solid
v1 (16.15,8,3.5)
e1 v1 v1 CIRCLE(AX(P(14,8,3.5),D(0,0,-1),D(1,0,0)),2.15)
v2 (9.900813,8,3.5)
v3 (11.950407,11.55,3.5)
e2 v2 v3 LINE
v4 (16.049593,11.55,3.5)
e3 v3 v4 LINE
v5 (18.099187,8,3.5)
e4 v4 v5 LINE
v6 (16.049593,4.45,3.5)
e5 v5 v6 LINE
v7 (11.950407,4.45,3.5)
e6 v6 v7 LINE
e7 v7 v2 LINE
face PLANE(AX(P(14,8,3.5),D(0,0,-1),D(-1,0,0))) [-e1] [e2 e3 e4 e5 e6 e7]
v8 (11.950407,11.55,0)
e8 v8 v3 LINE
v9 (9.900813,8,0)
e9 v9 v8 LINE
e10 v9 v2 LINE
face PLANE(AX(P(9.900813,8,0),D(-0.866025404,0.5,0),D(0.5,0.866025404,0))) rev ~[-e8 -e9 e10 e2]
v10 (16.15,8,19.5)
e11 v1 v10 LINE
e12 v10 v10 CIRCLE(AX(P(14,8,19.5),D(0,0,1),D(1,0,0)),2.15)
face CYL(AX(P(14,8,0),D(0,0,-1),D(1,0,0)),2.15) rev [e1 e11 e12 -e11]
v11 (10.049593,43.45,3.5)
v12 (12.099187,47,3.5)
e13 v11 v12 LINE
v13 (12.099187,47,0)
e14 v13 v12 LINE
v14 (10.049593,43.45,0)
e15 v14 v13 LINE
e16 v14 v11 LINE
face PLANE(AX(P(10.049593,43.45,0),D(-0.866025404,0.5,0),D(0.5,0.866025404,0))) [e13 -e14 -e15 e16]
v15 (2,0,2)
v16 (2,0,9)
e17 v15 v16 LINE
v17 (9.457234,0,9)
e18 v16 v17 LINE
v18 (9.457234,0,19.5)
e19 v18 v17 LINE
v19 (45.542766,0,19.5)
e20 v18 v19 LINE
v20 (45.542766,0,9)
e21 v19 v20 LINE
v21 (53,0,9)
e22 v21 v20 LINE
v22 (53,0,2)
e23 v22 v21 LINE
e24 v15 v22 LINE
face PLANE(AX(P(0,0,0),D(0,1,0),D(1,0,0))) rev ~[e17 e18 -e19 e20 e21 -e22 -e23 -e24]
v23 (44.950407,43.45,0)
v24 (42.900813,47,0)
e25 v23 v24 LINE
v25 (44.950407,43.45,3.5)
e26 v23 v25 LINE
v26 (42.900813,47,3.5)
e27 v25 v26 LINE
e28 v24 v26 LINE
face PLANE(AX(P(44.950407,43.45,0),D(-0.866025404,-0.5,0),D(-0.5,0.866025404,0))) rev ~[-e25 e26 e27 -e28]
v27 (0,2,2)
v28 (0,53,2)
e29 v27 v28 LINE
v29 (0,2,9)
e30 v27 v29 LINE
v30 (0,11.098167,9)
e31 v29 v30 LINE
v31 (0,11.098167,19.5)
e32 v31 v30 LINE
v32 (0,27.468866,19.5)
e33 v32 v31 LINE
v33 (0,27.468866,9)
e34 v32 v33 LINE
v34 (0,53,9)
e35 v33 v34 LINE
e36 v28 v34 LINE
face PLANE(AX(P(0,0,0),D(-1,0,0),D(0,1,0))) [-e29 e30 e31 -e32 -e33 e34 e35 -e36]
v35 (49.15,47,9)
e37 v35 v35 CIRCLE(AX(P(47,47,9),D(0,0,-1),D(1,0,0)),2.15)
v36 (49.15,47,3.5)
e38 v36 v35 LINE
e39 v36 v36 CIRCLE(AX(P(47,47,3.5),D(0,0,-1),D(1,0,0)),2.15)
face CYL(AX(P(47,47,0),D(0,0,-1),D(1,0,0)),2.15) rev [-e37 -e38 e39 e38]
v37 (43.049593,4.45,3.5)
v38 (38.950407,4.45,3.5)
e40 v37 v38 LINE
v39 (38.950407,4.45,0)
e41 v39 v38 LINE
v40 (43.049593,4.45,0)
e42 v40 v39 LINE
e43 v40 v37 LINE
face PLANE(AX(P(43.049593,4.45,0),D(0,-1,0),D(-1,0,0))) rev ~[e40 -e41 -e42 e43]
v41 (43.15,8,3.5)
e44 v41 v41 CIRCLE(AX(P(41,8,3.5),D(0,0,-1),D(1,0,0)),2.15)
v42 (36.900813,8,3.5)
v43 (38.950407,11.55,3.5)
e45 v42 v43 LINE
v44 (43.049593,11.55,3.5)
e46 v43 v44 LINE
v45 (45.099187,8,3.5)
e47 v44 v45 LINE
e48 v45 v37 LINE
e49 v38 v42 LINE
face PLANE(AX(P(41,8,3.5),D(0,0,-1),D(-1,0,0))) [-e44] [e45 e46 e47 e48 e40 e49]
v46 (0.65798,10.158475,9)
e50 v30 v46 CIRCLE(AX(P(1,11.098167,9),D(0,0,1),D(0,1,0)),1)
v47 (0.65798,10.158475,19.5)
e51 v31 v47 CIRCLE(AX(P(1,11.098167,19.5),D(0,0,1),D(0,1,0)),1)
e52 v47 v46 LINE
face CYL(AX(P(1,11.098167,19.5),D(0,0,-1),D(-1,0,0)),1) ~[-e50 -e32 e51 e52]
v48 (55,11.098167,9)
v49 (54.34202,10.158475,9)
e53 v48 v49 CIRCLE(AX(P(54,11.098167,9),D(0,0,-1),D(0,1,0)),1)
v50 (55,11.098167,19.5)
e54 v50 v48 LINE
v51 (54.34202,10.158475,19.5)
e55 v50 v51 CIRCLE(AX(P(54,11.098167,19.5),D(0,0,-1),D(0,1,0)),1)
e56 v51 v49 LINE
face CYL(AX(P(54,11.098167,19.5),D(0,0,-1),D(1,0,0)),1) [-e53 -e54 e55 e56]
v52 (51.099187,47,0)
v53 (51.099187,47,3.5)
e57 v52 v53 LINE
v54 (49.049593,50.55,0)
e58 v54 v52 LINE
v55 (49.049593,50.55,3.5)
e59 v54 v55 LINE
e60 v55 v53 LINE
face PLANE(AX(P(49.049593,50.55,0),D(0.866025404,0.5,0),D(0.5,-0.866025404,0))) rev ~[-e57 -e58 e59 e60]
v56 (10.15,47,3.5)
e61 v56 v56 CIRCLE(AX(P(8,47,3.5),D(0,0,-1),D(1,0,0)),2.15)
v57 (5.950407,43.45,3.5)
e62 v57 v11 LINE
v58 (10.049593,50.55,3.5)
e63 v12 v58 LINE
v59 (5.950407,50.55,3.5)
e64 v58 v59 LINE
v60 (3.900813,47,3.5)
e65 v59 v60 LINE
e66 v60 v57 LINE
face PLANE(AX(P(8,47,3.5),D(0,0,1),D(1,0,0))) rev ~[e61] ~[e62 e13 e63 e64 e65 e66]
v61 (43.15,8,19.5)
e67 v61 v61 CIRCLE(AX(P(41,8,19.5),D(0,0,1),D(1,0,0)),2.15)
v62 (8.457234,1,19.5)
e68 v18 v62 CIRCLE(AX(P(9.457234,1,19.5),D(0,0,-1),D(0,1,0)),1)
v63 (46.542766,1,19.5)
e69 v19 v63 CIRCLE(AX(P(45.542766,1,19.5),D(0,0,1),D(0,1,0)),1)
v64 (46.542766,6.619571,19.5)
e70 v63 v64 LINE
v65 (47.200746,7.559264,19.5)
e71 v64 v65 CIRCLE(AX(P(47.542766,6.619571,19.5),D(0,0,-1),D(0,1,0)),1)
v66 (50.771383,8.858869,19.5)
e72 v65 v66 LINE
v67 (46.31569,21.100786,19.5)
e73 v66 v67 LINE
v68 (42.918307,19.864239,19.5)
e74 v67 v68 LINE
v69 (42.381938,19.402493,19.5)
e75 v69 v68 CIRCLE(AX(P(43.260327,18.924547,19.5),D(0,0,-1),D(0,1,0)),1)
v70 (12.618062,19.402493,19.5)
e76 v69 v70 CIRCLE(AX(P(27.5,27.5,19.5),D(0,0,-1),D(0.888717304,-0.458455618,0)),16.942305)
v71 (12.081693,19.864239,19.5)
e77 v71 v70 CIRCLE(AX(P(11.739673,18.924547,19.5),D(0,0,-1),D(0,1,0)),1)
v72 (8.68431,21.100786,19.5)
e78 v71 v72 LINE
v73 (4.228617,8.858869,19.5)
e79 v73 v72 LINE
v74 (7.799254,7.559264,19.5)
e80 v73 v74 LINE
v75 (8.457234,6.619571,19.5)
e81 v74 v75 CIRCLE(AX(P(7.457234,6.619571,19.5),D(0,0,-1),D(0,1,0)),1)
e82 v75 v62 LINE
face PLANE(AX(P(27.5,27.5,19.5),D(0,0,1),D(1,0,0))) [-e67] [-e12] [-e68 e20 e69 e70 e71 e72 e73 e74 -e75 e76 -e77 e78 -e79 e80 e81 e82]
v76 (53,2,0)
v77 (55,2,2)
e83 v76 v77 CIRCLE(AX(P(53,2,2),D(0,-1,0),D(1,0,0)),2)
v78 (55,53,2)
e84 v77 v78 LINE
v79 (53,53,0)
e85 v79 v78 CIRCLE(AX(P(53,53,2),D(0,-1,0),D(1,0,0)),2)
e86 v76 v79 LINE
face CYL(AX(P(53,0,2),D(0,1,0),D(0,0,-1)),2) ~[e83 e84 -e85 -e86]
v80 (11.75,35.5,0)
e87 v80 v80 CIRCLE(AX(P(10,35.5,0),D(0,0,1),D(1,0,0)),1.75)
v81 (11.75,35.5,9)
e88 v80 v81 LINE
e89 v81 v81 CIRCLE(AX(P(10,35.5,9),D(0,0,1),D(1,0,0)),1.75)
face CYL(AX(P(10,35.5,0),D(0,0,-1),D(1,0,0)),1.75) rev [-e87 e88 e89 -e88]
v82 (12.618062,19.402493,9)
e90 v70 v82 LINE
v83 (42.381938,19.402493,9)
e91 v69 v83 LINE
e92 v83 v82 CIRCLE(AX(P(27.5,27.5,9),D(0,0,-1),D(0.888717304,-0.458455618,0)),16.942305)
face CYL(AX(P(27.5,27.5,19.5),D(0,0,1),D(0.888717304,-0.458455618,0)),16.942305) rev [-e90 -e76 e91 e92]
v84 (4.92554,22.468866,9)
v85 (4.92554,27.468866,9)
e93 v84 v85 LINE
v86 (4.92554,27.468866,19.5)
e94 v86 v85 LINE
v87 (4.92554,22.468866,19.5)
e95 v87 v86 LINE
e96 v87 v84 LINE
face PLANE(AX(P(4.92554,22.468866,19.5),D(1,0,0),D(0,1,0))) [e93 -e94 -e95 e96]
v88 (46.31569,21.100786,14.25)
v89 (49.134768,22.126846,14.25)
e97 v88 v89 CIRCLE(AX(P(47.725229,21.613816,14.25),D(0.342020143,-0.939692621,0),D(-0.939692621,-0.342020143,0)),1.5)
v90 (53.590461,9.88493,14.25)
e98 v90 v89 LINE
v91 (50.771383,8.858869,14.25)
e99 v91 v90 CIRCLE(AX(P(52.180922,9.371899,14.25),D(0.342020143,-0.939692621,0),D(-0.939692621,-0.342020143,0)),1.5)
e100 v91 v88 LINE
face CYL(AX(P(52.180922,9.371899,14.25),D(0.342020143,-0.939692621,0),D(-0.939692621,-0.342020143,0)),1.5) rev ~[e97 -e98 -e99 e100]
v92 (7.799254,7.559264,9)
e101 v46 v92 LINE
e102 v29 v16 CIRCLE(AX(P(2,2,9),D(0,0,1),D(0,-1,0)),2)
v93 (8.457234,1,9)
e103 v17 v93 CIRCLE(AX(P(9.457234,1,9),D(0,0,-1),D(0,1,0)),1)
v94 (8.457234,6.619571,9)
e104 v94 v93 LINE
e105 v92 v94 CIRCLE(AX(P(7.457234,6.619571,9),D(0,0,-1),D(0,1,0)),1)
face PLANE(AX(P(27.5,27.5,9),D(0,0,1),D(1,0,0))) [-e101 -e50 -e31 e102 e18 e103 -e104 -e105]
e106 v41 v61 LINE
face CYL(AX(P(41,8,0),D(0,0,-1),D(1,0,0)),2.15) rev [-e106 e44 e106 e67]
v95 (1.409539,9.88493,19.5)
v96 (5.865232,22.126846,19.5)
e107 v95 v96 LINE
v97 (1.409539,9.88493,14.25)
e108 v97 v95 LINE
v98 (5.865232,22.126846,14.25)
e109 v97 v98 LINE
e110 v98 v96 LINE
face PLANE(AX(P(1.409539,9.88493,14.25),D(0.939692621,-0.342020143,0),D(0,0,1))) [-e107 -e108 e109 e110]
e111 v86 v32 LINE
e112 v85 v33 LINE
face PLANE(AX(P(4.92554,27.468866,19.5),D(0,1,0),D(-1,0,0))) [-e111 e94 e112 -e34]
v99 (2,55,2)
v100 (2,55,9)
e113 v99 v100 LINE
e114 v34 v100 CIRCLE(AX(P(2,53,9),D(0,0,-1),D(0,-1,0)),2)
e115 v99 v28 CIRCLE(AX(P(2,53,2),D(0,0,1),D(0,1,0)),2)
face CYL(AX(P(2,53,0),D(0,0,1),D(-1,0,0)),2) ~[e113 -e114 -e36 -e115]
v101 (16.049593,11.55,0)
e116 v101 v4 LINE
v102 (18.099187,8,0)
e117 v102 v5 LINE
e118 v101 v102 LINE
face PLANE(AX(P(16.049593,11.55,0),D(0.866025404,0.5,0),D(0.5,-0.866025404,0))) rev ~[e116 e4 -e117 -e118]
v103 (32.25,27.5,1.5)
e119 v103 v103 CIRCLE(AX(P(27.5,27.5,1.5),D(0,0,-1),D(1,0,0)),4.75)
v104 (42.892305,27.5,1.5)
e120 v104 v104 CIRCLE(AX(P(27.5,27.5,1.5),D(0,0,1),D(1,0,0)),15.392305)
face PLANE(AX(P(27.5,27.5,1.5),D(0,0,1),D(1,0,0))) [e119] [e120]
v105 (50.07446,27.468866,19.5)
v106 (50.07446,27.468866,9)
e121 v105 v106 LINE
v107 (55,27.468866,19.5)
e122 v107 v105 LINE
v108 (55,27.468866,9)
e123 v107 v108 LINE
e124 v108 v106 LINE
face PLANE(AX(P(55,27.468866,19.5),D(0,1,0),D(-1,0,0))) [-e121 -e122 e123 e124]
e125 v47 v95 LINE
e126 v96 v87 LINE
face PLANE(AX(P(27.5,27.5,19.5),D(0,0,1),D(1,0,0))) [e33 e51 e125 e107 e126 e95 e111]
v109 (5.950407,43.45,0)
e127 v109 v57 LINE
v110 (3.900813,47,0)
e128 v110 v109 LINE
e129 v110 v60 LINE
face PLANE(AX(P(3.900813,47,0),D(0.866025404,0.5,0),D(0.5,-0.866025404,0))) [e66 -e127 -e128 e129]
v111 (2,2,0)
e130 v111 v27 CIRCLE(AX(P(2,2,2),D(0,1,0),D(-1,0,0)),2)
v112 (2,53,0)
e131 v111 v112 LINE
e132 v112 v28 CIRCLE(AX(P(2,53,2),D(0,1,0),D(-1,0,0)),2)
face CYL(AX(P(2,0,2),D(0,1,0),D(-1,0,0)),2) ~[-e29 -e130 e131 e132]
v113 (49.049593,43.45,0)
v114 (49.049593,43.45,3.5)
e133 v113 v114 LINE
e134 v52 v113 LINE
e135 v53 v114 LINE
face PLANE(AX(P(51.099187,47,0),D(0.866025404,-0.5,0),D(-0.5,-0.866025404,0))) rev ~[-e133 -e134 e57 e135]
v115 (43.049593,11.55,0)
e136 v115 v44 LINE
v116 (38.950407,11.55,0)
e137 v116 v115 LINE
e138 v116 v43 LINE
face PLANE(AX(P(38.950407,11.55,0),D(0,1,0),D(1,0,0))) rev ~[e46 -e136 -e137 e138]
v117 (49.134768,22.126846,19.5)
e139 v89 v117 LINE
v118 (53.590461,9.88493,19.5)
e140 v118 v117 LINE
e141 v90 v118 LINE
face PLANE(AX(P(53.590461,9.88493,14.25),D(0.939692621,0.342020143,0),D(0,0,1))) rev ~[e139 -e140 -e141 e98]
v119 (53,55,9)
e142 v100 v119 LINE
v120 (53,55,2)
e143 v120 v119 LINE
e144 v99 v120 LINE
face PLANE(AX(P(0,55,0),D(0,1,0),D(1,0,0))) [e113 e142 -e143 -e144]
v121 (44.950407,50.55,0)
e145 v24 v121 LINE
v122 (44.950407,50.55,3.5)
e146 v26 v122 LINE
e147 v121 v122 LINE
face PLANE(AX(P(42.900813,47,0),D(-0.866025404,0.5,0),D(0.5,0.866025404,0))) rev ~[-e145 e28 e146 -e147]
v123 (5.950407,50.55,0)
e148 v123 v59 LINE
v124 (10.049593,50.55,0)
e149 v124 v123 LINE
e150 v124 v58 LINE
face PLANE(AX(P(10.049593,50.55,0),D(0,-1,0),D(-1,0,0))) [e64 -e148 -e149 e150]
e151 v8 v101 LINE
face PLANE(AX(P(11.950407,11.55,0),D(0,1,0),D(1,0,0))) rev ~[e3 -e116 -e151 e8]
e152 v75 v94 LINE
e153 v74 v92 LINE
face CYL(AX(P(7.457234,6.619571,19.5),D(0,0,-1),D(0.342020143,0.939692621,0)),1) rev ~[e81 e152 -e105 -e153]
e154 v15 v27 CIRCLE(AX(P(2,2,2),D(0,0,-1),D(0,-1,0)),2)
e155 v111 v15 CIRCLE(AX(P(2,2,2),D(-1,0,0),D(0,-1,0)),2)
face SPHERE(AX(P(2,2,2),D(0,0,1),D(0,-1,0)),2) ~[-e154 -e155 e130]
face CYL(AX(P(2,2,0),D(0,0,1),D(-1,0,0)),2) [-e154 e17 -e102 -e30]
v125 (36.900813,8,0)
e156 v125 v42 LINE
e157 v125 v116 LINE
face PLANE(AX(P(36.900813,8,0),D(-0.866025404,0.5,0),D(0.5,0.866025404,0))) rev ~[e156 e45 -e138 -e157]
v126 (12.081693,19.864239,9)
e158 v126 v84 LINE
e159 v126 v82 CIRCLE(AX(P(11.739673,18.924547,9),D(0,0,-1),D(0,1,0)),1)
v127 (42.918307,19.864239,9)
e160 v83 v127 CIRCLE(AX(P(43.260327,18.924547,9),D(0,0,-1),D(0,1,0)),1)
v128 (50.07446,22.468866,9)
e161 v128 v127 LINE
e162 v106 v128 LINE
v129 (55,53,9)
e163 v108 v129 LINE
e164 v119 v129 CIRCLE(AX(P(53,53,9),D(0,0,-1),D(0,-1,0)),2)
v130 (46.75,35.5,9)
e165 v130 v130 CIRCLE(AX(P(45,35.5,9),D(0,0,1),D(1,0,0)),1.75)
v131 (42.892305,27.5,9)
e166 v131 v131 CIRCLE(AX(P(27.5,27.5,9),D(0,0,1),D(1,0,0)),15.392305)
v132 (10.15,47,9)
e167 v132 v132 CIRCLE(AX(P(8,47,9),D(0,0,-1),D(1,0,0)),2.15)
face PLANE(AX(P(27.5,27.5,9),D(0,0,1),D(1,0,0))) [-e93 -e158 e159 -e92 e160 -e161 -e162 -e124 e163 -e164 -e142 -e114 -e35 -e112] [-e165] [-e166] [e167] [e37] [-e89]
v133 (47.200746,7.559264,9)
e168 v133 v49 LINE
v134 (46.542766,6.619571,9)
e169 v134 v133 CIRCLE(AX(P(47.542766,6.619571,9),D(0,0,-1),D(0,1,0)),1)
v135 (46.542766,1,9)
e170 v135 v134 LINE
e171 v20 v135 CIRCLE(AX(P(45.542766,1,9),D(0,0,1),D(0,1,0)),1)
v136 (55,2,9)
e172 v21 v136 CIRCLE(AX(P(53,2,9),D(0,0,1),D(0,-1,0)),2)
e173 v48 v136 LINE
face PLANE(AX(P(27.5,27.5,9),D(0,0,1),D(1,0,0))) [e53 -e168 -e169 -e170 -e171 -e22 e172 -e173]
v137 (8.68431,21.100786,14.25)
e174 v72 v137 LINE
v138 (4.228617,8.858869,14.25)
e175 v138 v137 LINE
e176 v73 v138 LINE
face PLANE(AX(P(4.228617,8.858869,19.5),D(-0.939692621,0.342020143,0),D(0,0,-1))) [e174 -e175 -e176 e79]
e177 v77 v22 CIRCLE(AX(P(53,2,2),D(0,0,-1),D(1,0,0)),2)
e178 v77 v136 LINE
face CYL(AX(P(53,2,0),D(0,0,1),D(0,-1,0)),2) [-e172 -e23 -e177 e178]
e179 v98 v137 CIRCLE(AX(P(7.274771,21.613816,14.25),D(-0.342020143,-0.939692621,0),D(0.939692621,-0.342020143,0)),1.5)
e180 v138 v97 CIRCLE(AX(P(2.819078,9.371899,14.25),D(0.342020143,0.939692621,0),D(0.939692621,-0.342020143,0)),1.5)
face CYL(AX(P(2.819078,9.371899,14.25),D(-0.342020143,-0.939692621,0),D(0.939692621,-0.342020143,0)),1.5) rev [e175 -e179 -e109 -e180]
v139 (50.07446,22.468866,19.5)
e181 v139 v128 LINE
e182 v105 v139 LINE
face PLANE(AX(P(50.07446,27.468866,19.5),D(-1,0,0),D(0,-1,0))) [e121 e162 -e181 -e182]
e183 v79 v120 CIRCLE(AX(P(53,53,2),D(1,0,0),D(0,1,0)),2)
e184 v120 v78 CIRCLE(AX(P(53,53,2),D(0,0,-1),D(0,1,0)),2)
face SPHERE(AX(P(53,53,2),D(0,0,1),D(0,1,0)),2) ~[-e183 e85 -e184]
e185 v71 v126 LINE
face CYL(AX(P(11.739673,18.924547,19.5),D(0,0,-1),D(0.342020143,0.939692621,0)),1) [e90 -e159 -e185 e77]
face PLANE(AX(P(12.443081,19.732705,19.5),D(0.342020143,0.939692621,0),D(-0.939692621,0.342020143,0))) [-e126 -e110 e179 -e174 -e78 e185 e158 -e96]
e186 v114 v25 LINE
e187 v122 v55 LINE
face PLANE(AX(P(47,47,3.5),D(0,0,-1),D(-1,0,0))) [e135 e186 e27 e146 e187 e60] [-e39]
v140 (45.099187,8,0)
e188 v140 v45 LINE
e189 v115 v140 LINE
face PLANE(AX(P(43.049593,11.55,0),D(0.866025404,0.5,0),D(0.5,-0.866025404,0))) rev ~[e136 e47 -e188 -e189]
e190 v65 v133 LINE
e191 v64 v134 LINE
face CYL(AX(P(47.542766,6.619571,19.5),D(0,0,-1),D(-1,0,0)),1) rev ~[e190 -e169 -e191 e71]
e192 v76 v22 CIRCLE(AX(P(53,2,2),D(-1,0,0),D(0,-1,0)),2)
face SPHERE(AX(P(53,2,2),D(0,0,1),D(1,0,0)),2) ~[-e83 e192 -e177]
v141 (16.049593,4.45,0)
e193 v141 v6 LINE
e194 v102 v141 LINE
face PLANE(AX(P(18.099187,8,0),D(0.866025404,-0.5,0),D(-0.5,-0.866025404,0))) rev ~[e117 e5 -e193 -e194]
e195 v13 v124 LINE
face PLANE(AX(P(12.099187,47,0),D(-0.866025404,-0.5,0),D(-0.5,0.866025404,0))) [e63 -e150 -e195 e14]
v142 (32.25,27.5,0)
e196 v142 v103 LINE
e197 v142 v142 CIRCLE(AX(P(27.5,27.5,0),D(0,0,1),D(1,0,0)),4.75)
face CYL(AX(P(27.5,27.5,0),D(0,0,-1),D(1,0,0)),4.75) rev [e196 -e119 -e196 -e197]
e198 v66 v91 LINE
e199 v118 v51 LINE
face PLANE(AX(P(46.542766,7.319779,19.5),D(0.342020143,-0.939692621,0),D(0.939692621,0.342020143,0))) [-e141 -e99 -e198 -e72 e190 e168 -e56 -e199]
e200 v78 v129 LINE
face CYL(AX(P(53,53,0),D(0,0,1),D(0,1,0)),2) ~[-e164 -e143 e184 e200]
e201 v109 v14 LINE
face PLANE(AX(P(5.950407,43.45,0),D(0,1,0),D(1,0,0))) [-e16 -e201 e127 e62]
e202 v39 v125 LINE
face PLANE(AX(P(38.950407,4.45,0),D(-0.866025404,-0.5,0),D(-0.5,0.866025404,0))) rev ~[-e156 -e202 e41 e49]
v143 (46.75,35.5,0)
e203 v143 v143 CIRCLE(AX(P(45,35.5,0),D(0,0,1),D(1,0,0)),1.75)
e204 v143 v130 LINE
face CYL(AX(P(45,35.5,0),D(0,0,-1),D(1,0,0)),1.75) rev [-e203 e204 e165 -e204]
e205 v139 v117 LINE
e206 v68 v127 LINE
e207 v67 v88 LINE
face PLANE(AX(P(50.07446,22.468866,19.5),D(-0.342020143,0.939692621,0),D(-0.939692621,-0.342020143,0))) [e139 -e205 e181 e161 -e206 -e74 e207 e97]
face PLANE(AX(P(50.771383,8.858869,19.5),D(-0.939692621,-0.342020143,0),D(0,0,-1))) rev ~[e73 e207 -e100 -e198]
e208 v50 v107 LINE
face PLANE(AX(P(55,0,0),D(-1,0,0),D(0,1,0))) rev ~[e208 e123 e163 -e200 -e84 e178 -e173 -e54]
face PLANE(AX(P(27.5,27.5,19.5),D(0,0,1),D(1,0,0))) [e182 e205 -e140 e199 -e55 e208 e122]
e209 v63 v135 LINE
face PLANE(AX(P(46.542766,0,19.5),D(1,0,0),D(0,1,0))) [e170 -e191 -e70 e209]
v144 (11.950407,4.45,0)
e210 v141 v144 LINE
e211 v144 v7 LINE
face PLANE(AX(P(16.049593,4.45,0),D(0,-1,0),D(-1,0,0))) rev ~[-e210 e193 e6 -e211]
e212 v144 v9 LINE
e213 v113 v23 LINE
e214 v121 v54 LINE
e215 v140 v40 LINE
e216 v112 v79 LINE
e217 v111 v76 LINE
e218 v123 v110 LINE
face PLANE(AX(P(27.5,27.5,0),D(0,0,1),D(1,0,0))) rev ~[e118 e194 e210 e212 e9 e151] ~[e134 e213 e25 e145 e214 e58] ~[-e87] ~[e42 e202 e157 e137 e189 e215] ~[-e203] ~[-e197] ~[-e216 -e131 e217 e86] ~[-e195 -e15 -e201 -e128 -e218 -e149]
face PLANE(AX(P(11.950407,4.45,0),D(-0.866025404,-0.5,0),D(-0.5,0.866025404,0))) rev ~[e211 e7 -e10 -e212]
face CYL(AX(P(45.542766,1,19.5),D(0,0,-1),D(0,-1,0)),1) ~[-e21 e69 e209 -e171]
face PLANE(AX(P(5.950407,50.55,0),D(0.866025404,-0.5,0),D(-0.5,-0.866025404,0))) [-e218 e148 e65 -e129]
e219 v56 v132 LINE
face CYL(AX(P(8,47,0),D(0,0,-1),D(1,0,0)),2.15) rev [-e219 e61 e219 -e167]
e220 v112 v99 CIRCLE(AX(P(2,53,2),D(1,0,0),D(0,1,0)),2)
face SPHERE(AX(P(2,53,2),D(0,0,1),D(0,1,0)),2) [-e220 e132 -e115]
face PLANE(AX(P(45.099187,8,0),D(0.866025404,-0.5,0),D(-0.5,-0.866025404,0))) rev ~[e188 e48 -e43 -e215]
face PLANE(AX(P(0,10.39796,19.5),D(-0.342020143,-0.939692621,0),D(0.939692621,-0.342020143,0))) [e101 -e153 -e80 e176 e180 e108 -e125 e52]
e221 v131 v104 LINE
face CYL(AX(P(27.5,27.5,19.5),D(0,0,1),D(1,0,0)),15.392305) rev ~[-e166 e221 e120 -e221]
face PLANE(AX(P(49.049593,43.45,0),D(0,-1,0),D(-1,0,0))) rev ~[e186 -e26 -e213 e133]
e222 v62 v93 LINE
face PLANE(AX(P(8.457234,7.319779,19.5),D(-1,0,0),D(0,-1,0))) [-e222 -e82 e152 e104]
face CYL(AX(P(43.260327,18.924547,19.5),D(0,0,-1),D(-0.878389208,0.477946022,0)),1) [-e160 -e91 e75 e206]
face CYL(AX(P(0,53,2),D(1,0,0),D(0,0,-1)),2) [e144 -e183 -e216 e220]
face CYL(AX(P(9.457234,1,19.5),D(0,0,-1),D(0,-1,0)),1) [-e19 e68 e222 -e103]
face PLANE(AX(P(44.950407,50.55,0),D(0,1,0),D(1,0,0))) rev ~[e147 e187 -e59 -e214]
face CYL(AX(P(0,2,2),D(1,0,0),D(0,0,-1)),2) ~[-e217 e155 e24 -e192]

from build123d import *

# Parameters (mm, degrees)
SKETCH1_W           = 55
SKETCH1_H           = 55
SKETCH1_R           = 4.75
SKETCH1_R_2         = 2.15
BOSS_EXTRUDE1_DEPTH = 19.5
CUT_EXTRUDE10_DEPTH = 3.5
SKETCH5_R           = 15.392304845
CUT_EXTRUDE2_DEPTH  = 18
SKETCH6_OUTSIDE_W   = 73.038
SKETCH6_OUTSIDE_H   = 73.038
CUT_EXTRUDE3_DEPTH  = 10.5
SKETCH7_R           = 1.75
CUT_EXTRUDE4_DEPTH  = 9
CUT_EXTRUDE6_REACH  = 73.751
CUT_EXTRUDE11_REACH = 86.299
FILLET2_R           = 2
FILLET3_R           = 1


with BuildPart() as part:
    # Sketch1 → Boss-Extrude1 (new body)
    with BuildSketch(Plane.XY):
        with Locations((27.5, 27.5)):
            Rectangle(SKETCH1_W, SKETCH1_H)
        with Locations((27.5, 27.5)):
            Circle(SKETCH1_R, mode=Mode.SUBTRACT)
        with Locations((8, 47)):
            Circle(SKETCH1_R_2, mode=Mode.SUBTRACT)
        with Locations((47, 47)):
            Circle(SKETCH1_R_2, mode=Mode.SUBTRACT)
        with Locations((41, 8)):
            Circle(SKETCH1_R_2, mode=Mode.SUBTRACT)
        with Locations((14, 8)):
            Circle(SKETCH1_R_2, mode=Mode.SUBTRACT)
    extrude(amount=BOSS_EXTRUDE1_DEPTH)

    # Sketch11 → Cut-Extrude10 (cut)
    with BuildSketch(Plane.XY):
        Polygon((10.049593456, 50.55), (5.950406544, 50.55), (3.900813089, 47), (5.950406544, 43.45), (10.049593456, 43.45), (12.099186911, 47), align=None)
        Polygon((42.900813089, 47), (44.950406544, 50.55), (49.049593456, 50.55), (51.099186911, 47), (49.049593456, 43.45), (44.950406544, 43.45), align=None)
        Polygon((38.950406544, 11.55), (43.049593456, 11.55), (45.099186911, 8), (43.049593456, 4.45), (38.950406544, 4.45), (36.900813089, 8), align=None)
        Polygon((11.950406544, 11.55), (16.049593456, 11.55), (18.099186911, 8), (16.049593456, 4.45), (11.950406544, 4.45), (9.900813089, 8), align=None)
    extrude(amount=CUT_EXTRUDE10_DEPTH, mode=Mode.SUBTRACT)

    # Sketch5 → Cut-Extrude2 (cut)
    with BuildSketch(Plane.XY.offset(19.5)):
        with Locations((27.5, 27.5)):
            Circle(SKETCH5_R)
    extrude(amount=-CUT_EXTRUDE2_DEPTH, mode=Mode.SUBTRACT)

    # Sketch6 outside → Cut-Extrude3 (cut)
    with BuildSketch(Plane.XY.offset(19.5)):
        with Locations((27.5, 27.5)):
            Rectangle(SKETCH6_OUTSIDE_W, SKETCH6_OUTSIDE_H)
        with BuildLine():
            Line((12.44308051, 19.732705171), (4.925539544, 22.468866318))
            Line((4.925539544, 22.468866318), (4.925539544, 27.468866318))
            Line((4.925539544, 27.468866318), (0, 27.468866318))
            Line((0, 27.468866318), (0, 10.397959841))
            Line((0, 10.397959841), (8.457233587, 7.319778551))
            Line((8.457233587, 7.319778551), (8.457233587, 0))
            Line((8.457233587, 0), (46.542766413, 0))
            Line((46.542766413, 0), (46.542766413, 7.319778551))
            Line((46.542766413, 7.319778551), (55, 10.397959841))
            Line((55, 10.397959841), (55, 27.468866318))
            Line((55, 27.468866318), (50.074460456, 27.468866318))
            Line((50.074460456, 27.468866318), (50.074460456, 22.468866318))
            Line((50.074460456, 22.468866318), (42.55691949, 19.732705171))
            ThreePointArc((42.55691949, 19.732705171), (27.5, 10.557695155), (12.44308051, 19.732705171))
        make_face(mode=Mode.SUBTRACT)
    extrude(amount=-CUT_EXTRUDE3_DEPTH, mode=Mode.SUBTRACT)

    # Sketch7 → Cut-Extrude4 (cut)
    with BuildSketch(Plane.XY):
        with Locations((10, 35.5)):
            Circle(SKETCH7_R)
        with Locations((45, 35.5)):
            Circle(SKETCH7_R)
    extrude(amount=CUT_EXTRUDE4_DEPTH, mode=Mode.SUBTRACT)

    # Sketch9 → Cut-Extrude6 (cut, up to next)
    with BuildSketch(Plane(origin=(3.341839876, 9.181629599, 0), x_dir=(0, 0, 1), z_dir=(-0.3420201433256653, -0.9396926207859098, 0)), mode=Mode.PRIVATE) as cut_extrude6_sk1:
        with BuildLine():
            Line((14.25, 2.056311715), (19.5, 2.056311715))
            Line((19.5, 2.056311715), (19.5, -0.943688285))
            Line((19.5, -0.943688285), (14.25, -0.943688285))
            ThreePointArc((14.25, -0.943688285), (12.75, 0.556311715), (14.25, 2.056311715))
        make_face()
    cut_extrude6_tool1 = extrude(cut_extrude6_sk1.sketch, amount=-CUT_EXTRUDE6_REACH, mode=Mode.PRIVATE) & part.part
    add(cut_extrude6_tool1.solids().sort_by_distance((2.819078, 9.371899, 16.277233))[0], mode=Mode.SUBTRACT)

    # Sketch10 → Cut-Extrude11 (cut, up to next)
    with BuildSketch(Plane(origin=(3.091937938, -8.495029668, 0), x_dir=(0, 0, -1), z_dir=(0.3420201433256654, -0.9396926207859098, 0)), mode=Mode.PRIVATE) as cut_extrude11_sk1:
        with BuildLine():
            Line((-14.25, 53.739405858), (-19.5, 53.739405858))
            Line((-19.5, 53.739405858), (-19.5, 50.739405858))
            Line((-19.5, 50.739405858), (-14.25, 50.739405858))
            ThreePointArc((-14.25, 50.739405858), (-12.75, 52.239405858), (-14.25, 53.739405858))
        make_face()
    cut_extrude11_tool1 = extrude(cut_extrude11_sk1.sketch, amount=-CUT_EXTRUDE11_REACH, mode=Mode.PRIVATE) & part.part
    add(cut_extrude11_tool1.solids().sort_by_distance((52.180922, 9.371899, 16.277233))[0], mode=Mode.SUBTRACT)

    # Fillet2
    fillet2_edges = [part.edges().sort_by_distance(p)[0] for p in [
        (0, 55, 4.5),
        (55, 55, 4.5),
        (55, 0, 4.5),
        (0, 0, 4.5),
        (27.5, 55, 0),
        (55, 27.5, 0),
        (27.5, 0, 0),
        (0, 27.5, 0),
    ]]
    fillet(fillet2_edges, radius=FILLET2_R)

    # Fillet3
    fillet3_edges = [part.edges().sort_by_distance(p)[0] for p in [
        (0, 10.397959841, 14.25),
        (12.44308051, 19.732705171, 14.25),
        (42.55691949, 19.732705171, 14.25),
        (55, 10.397959841, 14.25),
        (46.542766413, 7.319778551, 14.25),
        (46.542766413, 0, 14.25),
        (8.457233587, 0, 14.25),
        (8.457233587, 7.319778551, 14.25),
    ]]
    fillet(fillet3_edges, radius=FILLET3_R)


solid = part.part
